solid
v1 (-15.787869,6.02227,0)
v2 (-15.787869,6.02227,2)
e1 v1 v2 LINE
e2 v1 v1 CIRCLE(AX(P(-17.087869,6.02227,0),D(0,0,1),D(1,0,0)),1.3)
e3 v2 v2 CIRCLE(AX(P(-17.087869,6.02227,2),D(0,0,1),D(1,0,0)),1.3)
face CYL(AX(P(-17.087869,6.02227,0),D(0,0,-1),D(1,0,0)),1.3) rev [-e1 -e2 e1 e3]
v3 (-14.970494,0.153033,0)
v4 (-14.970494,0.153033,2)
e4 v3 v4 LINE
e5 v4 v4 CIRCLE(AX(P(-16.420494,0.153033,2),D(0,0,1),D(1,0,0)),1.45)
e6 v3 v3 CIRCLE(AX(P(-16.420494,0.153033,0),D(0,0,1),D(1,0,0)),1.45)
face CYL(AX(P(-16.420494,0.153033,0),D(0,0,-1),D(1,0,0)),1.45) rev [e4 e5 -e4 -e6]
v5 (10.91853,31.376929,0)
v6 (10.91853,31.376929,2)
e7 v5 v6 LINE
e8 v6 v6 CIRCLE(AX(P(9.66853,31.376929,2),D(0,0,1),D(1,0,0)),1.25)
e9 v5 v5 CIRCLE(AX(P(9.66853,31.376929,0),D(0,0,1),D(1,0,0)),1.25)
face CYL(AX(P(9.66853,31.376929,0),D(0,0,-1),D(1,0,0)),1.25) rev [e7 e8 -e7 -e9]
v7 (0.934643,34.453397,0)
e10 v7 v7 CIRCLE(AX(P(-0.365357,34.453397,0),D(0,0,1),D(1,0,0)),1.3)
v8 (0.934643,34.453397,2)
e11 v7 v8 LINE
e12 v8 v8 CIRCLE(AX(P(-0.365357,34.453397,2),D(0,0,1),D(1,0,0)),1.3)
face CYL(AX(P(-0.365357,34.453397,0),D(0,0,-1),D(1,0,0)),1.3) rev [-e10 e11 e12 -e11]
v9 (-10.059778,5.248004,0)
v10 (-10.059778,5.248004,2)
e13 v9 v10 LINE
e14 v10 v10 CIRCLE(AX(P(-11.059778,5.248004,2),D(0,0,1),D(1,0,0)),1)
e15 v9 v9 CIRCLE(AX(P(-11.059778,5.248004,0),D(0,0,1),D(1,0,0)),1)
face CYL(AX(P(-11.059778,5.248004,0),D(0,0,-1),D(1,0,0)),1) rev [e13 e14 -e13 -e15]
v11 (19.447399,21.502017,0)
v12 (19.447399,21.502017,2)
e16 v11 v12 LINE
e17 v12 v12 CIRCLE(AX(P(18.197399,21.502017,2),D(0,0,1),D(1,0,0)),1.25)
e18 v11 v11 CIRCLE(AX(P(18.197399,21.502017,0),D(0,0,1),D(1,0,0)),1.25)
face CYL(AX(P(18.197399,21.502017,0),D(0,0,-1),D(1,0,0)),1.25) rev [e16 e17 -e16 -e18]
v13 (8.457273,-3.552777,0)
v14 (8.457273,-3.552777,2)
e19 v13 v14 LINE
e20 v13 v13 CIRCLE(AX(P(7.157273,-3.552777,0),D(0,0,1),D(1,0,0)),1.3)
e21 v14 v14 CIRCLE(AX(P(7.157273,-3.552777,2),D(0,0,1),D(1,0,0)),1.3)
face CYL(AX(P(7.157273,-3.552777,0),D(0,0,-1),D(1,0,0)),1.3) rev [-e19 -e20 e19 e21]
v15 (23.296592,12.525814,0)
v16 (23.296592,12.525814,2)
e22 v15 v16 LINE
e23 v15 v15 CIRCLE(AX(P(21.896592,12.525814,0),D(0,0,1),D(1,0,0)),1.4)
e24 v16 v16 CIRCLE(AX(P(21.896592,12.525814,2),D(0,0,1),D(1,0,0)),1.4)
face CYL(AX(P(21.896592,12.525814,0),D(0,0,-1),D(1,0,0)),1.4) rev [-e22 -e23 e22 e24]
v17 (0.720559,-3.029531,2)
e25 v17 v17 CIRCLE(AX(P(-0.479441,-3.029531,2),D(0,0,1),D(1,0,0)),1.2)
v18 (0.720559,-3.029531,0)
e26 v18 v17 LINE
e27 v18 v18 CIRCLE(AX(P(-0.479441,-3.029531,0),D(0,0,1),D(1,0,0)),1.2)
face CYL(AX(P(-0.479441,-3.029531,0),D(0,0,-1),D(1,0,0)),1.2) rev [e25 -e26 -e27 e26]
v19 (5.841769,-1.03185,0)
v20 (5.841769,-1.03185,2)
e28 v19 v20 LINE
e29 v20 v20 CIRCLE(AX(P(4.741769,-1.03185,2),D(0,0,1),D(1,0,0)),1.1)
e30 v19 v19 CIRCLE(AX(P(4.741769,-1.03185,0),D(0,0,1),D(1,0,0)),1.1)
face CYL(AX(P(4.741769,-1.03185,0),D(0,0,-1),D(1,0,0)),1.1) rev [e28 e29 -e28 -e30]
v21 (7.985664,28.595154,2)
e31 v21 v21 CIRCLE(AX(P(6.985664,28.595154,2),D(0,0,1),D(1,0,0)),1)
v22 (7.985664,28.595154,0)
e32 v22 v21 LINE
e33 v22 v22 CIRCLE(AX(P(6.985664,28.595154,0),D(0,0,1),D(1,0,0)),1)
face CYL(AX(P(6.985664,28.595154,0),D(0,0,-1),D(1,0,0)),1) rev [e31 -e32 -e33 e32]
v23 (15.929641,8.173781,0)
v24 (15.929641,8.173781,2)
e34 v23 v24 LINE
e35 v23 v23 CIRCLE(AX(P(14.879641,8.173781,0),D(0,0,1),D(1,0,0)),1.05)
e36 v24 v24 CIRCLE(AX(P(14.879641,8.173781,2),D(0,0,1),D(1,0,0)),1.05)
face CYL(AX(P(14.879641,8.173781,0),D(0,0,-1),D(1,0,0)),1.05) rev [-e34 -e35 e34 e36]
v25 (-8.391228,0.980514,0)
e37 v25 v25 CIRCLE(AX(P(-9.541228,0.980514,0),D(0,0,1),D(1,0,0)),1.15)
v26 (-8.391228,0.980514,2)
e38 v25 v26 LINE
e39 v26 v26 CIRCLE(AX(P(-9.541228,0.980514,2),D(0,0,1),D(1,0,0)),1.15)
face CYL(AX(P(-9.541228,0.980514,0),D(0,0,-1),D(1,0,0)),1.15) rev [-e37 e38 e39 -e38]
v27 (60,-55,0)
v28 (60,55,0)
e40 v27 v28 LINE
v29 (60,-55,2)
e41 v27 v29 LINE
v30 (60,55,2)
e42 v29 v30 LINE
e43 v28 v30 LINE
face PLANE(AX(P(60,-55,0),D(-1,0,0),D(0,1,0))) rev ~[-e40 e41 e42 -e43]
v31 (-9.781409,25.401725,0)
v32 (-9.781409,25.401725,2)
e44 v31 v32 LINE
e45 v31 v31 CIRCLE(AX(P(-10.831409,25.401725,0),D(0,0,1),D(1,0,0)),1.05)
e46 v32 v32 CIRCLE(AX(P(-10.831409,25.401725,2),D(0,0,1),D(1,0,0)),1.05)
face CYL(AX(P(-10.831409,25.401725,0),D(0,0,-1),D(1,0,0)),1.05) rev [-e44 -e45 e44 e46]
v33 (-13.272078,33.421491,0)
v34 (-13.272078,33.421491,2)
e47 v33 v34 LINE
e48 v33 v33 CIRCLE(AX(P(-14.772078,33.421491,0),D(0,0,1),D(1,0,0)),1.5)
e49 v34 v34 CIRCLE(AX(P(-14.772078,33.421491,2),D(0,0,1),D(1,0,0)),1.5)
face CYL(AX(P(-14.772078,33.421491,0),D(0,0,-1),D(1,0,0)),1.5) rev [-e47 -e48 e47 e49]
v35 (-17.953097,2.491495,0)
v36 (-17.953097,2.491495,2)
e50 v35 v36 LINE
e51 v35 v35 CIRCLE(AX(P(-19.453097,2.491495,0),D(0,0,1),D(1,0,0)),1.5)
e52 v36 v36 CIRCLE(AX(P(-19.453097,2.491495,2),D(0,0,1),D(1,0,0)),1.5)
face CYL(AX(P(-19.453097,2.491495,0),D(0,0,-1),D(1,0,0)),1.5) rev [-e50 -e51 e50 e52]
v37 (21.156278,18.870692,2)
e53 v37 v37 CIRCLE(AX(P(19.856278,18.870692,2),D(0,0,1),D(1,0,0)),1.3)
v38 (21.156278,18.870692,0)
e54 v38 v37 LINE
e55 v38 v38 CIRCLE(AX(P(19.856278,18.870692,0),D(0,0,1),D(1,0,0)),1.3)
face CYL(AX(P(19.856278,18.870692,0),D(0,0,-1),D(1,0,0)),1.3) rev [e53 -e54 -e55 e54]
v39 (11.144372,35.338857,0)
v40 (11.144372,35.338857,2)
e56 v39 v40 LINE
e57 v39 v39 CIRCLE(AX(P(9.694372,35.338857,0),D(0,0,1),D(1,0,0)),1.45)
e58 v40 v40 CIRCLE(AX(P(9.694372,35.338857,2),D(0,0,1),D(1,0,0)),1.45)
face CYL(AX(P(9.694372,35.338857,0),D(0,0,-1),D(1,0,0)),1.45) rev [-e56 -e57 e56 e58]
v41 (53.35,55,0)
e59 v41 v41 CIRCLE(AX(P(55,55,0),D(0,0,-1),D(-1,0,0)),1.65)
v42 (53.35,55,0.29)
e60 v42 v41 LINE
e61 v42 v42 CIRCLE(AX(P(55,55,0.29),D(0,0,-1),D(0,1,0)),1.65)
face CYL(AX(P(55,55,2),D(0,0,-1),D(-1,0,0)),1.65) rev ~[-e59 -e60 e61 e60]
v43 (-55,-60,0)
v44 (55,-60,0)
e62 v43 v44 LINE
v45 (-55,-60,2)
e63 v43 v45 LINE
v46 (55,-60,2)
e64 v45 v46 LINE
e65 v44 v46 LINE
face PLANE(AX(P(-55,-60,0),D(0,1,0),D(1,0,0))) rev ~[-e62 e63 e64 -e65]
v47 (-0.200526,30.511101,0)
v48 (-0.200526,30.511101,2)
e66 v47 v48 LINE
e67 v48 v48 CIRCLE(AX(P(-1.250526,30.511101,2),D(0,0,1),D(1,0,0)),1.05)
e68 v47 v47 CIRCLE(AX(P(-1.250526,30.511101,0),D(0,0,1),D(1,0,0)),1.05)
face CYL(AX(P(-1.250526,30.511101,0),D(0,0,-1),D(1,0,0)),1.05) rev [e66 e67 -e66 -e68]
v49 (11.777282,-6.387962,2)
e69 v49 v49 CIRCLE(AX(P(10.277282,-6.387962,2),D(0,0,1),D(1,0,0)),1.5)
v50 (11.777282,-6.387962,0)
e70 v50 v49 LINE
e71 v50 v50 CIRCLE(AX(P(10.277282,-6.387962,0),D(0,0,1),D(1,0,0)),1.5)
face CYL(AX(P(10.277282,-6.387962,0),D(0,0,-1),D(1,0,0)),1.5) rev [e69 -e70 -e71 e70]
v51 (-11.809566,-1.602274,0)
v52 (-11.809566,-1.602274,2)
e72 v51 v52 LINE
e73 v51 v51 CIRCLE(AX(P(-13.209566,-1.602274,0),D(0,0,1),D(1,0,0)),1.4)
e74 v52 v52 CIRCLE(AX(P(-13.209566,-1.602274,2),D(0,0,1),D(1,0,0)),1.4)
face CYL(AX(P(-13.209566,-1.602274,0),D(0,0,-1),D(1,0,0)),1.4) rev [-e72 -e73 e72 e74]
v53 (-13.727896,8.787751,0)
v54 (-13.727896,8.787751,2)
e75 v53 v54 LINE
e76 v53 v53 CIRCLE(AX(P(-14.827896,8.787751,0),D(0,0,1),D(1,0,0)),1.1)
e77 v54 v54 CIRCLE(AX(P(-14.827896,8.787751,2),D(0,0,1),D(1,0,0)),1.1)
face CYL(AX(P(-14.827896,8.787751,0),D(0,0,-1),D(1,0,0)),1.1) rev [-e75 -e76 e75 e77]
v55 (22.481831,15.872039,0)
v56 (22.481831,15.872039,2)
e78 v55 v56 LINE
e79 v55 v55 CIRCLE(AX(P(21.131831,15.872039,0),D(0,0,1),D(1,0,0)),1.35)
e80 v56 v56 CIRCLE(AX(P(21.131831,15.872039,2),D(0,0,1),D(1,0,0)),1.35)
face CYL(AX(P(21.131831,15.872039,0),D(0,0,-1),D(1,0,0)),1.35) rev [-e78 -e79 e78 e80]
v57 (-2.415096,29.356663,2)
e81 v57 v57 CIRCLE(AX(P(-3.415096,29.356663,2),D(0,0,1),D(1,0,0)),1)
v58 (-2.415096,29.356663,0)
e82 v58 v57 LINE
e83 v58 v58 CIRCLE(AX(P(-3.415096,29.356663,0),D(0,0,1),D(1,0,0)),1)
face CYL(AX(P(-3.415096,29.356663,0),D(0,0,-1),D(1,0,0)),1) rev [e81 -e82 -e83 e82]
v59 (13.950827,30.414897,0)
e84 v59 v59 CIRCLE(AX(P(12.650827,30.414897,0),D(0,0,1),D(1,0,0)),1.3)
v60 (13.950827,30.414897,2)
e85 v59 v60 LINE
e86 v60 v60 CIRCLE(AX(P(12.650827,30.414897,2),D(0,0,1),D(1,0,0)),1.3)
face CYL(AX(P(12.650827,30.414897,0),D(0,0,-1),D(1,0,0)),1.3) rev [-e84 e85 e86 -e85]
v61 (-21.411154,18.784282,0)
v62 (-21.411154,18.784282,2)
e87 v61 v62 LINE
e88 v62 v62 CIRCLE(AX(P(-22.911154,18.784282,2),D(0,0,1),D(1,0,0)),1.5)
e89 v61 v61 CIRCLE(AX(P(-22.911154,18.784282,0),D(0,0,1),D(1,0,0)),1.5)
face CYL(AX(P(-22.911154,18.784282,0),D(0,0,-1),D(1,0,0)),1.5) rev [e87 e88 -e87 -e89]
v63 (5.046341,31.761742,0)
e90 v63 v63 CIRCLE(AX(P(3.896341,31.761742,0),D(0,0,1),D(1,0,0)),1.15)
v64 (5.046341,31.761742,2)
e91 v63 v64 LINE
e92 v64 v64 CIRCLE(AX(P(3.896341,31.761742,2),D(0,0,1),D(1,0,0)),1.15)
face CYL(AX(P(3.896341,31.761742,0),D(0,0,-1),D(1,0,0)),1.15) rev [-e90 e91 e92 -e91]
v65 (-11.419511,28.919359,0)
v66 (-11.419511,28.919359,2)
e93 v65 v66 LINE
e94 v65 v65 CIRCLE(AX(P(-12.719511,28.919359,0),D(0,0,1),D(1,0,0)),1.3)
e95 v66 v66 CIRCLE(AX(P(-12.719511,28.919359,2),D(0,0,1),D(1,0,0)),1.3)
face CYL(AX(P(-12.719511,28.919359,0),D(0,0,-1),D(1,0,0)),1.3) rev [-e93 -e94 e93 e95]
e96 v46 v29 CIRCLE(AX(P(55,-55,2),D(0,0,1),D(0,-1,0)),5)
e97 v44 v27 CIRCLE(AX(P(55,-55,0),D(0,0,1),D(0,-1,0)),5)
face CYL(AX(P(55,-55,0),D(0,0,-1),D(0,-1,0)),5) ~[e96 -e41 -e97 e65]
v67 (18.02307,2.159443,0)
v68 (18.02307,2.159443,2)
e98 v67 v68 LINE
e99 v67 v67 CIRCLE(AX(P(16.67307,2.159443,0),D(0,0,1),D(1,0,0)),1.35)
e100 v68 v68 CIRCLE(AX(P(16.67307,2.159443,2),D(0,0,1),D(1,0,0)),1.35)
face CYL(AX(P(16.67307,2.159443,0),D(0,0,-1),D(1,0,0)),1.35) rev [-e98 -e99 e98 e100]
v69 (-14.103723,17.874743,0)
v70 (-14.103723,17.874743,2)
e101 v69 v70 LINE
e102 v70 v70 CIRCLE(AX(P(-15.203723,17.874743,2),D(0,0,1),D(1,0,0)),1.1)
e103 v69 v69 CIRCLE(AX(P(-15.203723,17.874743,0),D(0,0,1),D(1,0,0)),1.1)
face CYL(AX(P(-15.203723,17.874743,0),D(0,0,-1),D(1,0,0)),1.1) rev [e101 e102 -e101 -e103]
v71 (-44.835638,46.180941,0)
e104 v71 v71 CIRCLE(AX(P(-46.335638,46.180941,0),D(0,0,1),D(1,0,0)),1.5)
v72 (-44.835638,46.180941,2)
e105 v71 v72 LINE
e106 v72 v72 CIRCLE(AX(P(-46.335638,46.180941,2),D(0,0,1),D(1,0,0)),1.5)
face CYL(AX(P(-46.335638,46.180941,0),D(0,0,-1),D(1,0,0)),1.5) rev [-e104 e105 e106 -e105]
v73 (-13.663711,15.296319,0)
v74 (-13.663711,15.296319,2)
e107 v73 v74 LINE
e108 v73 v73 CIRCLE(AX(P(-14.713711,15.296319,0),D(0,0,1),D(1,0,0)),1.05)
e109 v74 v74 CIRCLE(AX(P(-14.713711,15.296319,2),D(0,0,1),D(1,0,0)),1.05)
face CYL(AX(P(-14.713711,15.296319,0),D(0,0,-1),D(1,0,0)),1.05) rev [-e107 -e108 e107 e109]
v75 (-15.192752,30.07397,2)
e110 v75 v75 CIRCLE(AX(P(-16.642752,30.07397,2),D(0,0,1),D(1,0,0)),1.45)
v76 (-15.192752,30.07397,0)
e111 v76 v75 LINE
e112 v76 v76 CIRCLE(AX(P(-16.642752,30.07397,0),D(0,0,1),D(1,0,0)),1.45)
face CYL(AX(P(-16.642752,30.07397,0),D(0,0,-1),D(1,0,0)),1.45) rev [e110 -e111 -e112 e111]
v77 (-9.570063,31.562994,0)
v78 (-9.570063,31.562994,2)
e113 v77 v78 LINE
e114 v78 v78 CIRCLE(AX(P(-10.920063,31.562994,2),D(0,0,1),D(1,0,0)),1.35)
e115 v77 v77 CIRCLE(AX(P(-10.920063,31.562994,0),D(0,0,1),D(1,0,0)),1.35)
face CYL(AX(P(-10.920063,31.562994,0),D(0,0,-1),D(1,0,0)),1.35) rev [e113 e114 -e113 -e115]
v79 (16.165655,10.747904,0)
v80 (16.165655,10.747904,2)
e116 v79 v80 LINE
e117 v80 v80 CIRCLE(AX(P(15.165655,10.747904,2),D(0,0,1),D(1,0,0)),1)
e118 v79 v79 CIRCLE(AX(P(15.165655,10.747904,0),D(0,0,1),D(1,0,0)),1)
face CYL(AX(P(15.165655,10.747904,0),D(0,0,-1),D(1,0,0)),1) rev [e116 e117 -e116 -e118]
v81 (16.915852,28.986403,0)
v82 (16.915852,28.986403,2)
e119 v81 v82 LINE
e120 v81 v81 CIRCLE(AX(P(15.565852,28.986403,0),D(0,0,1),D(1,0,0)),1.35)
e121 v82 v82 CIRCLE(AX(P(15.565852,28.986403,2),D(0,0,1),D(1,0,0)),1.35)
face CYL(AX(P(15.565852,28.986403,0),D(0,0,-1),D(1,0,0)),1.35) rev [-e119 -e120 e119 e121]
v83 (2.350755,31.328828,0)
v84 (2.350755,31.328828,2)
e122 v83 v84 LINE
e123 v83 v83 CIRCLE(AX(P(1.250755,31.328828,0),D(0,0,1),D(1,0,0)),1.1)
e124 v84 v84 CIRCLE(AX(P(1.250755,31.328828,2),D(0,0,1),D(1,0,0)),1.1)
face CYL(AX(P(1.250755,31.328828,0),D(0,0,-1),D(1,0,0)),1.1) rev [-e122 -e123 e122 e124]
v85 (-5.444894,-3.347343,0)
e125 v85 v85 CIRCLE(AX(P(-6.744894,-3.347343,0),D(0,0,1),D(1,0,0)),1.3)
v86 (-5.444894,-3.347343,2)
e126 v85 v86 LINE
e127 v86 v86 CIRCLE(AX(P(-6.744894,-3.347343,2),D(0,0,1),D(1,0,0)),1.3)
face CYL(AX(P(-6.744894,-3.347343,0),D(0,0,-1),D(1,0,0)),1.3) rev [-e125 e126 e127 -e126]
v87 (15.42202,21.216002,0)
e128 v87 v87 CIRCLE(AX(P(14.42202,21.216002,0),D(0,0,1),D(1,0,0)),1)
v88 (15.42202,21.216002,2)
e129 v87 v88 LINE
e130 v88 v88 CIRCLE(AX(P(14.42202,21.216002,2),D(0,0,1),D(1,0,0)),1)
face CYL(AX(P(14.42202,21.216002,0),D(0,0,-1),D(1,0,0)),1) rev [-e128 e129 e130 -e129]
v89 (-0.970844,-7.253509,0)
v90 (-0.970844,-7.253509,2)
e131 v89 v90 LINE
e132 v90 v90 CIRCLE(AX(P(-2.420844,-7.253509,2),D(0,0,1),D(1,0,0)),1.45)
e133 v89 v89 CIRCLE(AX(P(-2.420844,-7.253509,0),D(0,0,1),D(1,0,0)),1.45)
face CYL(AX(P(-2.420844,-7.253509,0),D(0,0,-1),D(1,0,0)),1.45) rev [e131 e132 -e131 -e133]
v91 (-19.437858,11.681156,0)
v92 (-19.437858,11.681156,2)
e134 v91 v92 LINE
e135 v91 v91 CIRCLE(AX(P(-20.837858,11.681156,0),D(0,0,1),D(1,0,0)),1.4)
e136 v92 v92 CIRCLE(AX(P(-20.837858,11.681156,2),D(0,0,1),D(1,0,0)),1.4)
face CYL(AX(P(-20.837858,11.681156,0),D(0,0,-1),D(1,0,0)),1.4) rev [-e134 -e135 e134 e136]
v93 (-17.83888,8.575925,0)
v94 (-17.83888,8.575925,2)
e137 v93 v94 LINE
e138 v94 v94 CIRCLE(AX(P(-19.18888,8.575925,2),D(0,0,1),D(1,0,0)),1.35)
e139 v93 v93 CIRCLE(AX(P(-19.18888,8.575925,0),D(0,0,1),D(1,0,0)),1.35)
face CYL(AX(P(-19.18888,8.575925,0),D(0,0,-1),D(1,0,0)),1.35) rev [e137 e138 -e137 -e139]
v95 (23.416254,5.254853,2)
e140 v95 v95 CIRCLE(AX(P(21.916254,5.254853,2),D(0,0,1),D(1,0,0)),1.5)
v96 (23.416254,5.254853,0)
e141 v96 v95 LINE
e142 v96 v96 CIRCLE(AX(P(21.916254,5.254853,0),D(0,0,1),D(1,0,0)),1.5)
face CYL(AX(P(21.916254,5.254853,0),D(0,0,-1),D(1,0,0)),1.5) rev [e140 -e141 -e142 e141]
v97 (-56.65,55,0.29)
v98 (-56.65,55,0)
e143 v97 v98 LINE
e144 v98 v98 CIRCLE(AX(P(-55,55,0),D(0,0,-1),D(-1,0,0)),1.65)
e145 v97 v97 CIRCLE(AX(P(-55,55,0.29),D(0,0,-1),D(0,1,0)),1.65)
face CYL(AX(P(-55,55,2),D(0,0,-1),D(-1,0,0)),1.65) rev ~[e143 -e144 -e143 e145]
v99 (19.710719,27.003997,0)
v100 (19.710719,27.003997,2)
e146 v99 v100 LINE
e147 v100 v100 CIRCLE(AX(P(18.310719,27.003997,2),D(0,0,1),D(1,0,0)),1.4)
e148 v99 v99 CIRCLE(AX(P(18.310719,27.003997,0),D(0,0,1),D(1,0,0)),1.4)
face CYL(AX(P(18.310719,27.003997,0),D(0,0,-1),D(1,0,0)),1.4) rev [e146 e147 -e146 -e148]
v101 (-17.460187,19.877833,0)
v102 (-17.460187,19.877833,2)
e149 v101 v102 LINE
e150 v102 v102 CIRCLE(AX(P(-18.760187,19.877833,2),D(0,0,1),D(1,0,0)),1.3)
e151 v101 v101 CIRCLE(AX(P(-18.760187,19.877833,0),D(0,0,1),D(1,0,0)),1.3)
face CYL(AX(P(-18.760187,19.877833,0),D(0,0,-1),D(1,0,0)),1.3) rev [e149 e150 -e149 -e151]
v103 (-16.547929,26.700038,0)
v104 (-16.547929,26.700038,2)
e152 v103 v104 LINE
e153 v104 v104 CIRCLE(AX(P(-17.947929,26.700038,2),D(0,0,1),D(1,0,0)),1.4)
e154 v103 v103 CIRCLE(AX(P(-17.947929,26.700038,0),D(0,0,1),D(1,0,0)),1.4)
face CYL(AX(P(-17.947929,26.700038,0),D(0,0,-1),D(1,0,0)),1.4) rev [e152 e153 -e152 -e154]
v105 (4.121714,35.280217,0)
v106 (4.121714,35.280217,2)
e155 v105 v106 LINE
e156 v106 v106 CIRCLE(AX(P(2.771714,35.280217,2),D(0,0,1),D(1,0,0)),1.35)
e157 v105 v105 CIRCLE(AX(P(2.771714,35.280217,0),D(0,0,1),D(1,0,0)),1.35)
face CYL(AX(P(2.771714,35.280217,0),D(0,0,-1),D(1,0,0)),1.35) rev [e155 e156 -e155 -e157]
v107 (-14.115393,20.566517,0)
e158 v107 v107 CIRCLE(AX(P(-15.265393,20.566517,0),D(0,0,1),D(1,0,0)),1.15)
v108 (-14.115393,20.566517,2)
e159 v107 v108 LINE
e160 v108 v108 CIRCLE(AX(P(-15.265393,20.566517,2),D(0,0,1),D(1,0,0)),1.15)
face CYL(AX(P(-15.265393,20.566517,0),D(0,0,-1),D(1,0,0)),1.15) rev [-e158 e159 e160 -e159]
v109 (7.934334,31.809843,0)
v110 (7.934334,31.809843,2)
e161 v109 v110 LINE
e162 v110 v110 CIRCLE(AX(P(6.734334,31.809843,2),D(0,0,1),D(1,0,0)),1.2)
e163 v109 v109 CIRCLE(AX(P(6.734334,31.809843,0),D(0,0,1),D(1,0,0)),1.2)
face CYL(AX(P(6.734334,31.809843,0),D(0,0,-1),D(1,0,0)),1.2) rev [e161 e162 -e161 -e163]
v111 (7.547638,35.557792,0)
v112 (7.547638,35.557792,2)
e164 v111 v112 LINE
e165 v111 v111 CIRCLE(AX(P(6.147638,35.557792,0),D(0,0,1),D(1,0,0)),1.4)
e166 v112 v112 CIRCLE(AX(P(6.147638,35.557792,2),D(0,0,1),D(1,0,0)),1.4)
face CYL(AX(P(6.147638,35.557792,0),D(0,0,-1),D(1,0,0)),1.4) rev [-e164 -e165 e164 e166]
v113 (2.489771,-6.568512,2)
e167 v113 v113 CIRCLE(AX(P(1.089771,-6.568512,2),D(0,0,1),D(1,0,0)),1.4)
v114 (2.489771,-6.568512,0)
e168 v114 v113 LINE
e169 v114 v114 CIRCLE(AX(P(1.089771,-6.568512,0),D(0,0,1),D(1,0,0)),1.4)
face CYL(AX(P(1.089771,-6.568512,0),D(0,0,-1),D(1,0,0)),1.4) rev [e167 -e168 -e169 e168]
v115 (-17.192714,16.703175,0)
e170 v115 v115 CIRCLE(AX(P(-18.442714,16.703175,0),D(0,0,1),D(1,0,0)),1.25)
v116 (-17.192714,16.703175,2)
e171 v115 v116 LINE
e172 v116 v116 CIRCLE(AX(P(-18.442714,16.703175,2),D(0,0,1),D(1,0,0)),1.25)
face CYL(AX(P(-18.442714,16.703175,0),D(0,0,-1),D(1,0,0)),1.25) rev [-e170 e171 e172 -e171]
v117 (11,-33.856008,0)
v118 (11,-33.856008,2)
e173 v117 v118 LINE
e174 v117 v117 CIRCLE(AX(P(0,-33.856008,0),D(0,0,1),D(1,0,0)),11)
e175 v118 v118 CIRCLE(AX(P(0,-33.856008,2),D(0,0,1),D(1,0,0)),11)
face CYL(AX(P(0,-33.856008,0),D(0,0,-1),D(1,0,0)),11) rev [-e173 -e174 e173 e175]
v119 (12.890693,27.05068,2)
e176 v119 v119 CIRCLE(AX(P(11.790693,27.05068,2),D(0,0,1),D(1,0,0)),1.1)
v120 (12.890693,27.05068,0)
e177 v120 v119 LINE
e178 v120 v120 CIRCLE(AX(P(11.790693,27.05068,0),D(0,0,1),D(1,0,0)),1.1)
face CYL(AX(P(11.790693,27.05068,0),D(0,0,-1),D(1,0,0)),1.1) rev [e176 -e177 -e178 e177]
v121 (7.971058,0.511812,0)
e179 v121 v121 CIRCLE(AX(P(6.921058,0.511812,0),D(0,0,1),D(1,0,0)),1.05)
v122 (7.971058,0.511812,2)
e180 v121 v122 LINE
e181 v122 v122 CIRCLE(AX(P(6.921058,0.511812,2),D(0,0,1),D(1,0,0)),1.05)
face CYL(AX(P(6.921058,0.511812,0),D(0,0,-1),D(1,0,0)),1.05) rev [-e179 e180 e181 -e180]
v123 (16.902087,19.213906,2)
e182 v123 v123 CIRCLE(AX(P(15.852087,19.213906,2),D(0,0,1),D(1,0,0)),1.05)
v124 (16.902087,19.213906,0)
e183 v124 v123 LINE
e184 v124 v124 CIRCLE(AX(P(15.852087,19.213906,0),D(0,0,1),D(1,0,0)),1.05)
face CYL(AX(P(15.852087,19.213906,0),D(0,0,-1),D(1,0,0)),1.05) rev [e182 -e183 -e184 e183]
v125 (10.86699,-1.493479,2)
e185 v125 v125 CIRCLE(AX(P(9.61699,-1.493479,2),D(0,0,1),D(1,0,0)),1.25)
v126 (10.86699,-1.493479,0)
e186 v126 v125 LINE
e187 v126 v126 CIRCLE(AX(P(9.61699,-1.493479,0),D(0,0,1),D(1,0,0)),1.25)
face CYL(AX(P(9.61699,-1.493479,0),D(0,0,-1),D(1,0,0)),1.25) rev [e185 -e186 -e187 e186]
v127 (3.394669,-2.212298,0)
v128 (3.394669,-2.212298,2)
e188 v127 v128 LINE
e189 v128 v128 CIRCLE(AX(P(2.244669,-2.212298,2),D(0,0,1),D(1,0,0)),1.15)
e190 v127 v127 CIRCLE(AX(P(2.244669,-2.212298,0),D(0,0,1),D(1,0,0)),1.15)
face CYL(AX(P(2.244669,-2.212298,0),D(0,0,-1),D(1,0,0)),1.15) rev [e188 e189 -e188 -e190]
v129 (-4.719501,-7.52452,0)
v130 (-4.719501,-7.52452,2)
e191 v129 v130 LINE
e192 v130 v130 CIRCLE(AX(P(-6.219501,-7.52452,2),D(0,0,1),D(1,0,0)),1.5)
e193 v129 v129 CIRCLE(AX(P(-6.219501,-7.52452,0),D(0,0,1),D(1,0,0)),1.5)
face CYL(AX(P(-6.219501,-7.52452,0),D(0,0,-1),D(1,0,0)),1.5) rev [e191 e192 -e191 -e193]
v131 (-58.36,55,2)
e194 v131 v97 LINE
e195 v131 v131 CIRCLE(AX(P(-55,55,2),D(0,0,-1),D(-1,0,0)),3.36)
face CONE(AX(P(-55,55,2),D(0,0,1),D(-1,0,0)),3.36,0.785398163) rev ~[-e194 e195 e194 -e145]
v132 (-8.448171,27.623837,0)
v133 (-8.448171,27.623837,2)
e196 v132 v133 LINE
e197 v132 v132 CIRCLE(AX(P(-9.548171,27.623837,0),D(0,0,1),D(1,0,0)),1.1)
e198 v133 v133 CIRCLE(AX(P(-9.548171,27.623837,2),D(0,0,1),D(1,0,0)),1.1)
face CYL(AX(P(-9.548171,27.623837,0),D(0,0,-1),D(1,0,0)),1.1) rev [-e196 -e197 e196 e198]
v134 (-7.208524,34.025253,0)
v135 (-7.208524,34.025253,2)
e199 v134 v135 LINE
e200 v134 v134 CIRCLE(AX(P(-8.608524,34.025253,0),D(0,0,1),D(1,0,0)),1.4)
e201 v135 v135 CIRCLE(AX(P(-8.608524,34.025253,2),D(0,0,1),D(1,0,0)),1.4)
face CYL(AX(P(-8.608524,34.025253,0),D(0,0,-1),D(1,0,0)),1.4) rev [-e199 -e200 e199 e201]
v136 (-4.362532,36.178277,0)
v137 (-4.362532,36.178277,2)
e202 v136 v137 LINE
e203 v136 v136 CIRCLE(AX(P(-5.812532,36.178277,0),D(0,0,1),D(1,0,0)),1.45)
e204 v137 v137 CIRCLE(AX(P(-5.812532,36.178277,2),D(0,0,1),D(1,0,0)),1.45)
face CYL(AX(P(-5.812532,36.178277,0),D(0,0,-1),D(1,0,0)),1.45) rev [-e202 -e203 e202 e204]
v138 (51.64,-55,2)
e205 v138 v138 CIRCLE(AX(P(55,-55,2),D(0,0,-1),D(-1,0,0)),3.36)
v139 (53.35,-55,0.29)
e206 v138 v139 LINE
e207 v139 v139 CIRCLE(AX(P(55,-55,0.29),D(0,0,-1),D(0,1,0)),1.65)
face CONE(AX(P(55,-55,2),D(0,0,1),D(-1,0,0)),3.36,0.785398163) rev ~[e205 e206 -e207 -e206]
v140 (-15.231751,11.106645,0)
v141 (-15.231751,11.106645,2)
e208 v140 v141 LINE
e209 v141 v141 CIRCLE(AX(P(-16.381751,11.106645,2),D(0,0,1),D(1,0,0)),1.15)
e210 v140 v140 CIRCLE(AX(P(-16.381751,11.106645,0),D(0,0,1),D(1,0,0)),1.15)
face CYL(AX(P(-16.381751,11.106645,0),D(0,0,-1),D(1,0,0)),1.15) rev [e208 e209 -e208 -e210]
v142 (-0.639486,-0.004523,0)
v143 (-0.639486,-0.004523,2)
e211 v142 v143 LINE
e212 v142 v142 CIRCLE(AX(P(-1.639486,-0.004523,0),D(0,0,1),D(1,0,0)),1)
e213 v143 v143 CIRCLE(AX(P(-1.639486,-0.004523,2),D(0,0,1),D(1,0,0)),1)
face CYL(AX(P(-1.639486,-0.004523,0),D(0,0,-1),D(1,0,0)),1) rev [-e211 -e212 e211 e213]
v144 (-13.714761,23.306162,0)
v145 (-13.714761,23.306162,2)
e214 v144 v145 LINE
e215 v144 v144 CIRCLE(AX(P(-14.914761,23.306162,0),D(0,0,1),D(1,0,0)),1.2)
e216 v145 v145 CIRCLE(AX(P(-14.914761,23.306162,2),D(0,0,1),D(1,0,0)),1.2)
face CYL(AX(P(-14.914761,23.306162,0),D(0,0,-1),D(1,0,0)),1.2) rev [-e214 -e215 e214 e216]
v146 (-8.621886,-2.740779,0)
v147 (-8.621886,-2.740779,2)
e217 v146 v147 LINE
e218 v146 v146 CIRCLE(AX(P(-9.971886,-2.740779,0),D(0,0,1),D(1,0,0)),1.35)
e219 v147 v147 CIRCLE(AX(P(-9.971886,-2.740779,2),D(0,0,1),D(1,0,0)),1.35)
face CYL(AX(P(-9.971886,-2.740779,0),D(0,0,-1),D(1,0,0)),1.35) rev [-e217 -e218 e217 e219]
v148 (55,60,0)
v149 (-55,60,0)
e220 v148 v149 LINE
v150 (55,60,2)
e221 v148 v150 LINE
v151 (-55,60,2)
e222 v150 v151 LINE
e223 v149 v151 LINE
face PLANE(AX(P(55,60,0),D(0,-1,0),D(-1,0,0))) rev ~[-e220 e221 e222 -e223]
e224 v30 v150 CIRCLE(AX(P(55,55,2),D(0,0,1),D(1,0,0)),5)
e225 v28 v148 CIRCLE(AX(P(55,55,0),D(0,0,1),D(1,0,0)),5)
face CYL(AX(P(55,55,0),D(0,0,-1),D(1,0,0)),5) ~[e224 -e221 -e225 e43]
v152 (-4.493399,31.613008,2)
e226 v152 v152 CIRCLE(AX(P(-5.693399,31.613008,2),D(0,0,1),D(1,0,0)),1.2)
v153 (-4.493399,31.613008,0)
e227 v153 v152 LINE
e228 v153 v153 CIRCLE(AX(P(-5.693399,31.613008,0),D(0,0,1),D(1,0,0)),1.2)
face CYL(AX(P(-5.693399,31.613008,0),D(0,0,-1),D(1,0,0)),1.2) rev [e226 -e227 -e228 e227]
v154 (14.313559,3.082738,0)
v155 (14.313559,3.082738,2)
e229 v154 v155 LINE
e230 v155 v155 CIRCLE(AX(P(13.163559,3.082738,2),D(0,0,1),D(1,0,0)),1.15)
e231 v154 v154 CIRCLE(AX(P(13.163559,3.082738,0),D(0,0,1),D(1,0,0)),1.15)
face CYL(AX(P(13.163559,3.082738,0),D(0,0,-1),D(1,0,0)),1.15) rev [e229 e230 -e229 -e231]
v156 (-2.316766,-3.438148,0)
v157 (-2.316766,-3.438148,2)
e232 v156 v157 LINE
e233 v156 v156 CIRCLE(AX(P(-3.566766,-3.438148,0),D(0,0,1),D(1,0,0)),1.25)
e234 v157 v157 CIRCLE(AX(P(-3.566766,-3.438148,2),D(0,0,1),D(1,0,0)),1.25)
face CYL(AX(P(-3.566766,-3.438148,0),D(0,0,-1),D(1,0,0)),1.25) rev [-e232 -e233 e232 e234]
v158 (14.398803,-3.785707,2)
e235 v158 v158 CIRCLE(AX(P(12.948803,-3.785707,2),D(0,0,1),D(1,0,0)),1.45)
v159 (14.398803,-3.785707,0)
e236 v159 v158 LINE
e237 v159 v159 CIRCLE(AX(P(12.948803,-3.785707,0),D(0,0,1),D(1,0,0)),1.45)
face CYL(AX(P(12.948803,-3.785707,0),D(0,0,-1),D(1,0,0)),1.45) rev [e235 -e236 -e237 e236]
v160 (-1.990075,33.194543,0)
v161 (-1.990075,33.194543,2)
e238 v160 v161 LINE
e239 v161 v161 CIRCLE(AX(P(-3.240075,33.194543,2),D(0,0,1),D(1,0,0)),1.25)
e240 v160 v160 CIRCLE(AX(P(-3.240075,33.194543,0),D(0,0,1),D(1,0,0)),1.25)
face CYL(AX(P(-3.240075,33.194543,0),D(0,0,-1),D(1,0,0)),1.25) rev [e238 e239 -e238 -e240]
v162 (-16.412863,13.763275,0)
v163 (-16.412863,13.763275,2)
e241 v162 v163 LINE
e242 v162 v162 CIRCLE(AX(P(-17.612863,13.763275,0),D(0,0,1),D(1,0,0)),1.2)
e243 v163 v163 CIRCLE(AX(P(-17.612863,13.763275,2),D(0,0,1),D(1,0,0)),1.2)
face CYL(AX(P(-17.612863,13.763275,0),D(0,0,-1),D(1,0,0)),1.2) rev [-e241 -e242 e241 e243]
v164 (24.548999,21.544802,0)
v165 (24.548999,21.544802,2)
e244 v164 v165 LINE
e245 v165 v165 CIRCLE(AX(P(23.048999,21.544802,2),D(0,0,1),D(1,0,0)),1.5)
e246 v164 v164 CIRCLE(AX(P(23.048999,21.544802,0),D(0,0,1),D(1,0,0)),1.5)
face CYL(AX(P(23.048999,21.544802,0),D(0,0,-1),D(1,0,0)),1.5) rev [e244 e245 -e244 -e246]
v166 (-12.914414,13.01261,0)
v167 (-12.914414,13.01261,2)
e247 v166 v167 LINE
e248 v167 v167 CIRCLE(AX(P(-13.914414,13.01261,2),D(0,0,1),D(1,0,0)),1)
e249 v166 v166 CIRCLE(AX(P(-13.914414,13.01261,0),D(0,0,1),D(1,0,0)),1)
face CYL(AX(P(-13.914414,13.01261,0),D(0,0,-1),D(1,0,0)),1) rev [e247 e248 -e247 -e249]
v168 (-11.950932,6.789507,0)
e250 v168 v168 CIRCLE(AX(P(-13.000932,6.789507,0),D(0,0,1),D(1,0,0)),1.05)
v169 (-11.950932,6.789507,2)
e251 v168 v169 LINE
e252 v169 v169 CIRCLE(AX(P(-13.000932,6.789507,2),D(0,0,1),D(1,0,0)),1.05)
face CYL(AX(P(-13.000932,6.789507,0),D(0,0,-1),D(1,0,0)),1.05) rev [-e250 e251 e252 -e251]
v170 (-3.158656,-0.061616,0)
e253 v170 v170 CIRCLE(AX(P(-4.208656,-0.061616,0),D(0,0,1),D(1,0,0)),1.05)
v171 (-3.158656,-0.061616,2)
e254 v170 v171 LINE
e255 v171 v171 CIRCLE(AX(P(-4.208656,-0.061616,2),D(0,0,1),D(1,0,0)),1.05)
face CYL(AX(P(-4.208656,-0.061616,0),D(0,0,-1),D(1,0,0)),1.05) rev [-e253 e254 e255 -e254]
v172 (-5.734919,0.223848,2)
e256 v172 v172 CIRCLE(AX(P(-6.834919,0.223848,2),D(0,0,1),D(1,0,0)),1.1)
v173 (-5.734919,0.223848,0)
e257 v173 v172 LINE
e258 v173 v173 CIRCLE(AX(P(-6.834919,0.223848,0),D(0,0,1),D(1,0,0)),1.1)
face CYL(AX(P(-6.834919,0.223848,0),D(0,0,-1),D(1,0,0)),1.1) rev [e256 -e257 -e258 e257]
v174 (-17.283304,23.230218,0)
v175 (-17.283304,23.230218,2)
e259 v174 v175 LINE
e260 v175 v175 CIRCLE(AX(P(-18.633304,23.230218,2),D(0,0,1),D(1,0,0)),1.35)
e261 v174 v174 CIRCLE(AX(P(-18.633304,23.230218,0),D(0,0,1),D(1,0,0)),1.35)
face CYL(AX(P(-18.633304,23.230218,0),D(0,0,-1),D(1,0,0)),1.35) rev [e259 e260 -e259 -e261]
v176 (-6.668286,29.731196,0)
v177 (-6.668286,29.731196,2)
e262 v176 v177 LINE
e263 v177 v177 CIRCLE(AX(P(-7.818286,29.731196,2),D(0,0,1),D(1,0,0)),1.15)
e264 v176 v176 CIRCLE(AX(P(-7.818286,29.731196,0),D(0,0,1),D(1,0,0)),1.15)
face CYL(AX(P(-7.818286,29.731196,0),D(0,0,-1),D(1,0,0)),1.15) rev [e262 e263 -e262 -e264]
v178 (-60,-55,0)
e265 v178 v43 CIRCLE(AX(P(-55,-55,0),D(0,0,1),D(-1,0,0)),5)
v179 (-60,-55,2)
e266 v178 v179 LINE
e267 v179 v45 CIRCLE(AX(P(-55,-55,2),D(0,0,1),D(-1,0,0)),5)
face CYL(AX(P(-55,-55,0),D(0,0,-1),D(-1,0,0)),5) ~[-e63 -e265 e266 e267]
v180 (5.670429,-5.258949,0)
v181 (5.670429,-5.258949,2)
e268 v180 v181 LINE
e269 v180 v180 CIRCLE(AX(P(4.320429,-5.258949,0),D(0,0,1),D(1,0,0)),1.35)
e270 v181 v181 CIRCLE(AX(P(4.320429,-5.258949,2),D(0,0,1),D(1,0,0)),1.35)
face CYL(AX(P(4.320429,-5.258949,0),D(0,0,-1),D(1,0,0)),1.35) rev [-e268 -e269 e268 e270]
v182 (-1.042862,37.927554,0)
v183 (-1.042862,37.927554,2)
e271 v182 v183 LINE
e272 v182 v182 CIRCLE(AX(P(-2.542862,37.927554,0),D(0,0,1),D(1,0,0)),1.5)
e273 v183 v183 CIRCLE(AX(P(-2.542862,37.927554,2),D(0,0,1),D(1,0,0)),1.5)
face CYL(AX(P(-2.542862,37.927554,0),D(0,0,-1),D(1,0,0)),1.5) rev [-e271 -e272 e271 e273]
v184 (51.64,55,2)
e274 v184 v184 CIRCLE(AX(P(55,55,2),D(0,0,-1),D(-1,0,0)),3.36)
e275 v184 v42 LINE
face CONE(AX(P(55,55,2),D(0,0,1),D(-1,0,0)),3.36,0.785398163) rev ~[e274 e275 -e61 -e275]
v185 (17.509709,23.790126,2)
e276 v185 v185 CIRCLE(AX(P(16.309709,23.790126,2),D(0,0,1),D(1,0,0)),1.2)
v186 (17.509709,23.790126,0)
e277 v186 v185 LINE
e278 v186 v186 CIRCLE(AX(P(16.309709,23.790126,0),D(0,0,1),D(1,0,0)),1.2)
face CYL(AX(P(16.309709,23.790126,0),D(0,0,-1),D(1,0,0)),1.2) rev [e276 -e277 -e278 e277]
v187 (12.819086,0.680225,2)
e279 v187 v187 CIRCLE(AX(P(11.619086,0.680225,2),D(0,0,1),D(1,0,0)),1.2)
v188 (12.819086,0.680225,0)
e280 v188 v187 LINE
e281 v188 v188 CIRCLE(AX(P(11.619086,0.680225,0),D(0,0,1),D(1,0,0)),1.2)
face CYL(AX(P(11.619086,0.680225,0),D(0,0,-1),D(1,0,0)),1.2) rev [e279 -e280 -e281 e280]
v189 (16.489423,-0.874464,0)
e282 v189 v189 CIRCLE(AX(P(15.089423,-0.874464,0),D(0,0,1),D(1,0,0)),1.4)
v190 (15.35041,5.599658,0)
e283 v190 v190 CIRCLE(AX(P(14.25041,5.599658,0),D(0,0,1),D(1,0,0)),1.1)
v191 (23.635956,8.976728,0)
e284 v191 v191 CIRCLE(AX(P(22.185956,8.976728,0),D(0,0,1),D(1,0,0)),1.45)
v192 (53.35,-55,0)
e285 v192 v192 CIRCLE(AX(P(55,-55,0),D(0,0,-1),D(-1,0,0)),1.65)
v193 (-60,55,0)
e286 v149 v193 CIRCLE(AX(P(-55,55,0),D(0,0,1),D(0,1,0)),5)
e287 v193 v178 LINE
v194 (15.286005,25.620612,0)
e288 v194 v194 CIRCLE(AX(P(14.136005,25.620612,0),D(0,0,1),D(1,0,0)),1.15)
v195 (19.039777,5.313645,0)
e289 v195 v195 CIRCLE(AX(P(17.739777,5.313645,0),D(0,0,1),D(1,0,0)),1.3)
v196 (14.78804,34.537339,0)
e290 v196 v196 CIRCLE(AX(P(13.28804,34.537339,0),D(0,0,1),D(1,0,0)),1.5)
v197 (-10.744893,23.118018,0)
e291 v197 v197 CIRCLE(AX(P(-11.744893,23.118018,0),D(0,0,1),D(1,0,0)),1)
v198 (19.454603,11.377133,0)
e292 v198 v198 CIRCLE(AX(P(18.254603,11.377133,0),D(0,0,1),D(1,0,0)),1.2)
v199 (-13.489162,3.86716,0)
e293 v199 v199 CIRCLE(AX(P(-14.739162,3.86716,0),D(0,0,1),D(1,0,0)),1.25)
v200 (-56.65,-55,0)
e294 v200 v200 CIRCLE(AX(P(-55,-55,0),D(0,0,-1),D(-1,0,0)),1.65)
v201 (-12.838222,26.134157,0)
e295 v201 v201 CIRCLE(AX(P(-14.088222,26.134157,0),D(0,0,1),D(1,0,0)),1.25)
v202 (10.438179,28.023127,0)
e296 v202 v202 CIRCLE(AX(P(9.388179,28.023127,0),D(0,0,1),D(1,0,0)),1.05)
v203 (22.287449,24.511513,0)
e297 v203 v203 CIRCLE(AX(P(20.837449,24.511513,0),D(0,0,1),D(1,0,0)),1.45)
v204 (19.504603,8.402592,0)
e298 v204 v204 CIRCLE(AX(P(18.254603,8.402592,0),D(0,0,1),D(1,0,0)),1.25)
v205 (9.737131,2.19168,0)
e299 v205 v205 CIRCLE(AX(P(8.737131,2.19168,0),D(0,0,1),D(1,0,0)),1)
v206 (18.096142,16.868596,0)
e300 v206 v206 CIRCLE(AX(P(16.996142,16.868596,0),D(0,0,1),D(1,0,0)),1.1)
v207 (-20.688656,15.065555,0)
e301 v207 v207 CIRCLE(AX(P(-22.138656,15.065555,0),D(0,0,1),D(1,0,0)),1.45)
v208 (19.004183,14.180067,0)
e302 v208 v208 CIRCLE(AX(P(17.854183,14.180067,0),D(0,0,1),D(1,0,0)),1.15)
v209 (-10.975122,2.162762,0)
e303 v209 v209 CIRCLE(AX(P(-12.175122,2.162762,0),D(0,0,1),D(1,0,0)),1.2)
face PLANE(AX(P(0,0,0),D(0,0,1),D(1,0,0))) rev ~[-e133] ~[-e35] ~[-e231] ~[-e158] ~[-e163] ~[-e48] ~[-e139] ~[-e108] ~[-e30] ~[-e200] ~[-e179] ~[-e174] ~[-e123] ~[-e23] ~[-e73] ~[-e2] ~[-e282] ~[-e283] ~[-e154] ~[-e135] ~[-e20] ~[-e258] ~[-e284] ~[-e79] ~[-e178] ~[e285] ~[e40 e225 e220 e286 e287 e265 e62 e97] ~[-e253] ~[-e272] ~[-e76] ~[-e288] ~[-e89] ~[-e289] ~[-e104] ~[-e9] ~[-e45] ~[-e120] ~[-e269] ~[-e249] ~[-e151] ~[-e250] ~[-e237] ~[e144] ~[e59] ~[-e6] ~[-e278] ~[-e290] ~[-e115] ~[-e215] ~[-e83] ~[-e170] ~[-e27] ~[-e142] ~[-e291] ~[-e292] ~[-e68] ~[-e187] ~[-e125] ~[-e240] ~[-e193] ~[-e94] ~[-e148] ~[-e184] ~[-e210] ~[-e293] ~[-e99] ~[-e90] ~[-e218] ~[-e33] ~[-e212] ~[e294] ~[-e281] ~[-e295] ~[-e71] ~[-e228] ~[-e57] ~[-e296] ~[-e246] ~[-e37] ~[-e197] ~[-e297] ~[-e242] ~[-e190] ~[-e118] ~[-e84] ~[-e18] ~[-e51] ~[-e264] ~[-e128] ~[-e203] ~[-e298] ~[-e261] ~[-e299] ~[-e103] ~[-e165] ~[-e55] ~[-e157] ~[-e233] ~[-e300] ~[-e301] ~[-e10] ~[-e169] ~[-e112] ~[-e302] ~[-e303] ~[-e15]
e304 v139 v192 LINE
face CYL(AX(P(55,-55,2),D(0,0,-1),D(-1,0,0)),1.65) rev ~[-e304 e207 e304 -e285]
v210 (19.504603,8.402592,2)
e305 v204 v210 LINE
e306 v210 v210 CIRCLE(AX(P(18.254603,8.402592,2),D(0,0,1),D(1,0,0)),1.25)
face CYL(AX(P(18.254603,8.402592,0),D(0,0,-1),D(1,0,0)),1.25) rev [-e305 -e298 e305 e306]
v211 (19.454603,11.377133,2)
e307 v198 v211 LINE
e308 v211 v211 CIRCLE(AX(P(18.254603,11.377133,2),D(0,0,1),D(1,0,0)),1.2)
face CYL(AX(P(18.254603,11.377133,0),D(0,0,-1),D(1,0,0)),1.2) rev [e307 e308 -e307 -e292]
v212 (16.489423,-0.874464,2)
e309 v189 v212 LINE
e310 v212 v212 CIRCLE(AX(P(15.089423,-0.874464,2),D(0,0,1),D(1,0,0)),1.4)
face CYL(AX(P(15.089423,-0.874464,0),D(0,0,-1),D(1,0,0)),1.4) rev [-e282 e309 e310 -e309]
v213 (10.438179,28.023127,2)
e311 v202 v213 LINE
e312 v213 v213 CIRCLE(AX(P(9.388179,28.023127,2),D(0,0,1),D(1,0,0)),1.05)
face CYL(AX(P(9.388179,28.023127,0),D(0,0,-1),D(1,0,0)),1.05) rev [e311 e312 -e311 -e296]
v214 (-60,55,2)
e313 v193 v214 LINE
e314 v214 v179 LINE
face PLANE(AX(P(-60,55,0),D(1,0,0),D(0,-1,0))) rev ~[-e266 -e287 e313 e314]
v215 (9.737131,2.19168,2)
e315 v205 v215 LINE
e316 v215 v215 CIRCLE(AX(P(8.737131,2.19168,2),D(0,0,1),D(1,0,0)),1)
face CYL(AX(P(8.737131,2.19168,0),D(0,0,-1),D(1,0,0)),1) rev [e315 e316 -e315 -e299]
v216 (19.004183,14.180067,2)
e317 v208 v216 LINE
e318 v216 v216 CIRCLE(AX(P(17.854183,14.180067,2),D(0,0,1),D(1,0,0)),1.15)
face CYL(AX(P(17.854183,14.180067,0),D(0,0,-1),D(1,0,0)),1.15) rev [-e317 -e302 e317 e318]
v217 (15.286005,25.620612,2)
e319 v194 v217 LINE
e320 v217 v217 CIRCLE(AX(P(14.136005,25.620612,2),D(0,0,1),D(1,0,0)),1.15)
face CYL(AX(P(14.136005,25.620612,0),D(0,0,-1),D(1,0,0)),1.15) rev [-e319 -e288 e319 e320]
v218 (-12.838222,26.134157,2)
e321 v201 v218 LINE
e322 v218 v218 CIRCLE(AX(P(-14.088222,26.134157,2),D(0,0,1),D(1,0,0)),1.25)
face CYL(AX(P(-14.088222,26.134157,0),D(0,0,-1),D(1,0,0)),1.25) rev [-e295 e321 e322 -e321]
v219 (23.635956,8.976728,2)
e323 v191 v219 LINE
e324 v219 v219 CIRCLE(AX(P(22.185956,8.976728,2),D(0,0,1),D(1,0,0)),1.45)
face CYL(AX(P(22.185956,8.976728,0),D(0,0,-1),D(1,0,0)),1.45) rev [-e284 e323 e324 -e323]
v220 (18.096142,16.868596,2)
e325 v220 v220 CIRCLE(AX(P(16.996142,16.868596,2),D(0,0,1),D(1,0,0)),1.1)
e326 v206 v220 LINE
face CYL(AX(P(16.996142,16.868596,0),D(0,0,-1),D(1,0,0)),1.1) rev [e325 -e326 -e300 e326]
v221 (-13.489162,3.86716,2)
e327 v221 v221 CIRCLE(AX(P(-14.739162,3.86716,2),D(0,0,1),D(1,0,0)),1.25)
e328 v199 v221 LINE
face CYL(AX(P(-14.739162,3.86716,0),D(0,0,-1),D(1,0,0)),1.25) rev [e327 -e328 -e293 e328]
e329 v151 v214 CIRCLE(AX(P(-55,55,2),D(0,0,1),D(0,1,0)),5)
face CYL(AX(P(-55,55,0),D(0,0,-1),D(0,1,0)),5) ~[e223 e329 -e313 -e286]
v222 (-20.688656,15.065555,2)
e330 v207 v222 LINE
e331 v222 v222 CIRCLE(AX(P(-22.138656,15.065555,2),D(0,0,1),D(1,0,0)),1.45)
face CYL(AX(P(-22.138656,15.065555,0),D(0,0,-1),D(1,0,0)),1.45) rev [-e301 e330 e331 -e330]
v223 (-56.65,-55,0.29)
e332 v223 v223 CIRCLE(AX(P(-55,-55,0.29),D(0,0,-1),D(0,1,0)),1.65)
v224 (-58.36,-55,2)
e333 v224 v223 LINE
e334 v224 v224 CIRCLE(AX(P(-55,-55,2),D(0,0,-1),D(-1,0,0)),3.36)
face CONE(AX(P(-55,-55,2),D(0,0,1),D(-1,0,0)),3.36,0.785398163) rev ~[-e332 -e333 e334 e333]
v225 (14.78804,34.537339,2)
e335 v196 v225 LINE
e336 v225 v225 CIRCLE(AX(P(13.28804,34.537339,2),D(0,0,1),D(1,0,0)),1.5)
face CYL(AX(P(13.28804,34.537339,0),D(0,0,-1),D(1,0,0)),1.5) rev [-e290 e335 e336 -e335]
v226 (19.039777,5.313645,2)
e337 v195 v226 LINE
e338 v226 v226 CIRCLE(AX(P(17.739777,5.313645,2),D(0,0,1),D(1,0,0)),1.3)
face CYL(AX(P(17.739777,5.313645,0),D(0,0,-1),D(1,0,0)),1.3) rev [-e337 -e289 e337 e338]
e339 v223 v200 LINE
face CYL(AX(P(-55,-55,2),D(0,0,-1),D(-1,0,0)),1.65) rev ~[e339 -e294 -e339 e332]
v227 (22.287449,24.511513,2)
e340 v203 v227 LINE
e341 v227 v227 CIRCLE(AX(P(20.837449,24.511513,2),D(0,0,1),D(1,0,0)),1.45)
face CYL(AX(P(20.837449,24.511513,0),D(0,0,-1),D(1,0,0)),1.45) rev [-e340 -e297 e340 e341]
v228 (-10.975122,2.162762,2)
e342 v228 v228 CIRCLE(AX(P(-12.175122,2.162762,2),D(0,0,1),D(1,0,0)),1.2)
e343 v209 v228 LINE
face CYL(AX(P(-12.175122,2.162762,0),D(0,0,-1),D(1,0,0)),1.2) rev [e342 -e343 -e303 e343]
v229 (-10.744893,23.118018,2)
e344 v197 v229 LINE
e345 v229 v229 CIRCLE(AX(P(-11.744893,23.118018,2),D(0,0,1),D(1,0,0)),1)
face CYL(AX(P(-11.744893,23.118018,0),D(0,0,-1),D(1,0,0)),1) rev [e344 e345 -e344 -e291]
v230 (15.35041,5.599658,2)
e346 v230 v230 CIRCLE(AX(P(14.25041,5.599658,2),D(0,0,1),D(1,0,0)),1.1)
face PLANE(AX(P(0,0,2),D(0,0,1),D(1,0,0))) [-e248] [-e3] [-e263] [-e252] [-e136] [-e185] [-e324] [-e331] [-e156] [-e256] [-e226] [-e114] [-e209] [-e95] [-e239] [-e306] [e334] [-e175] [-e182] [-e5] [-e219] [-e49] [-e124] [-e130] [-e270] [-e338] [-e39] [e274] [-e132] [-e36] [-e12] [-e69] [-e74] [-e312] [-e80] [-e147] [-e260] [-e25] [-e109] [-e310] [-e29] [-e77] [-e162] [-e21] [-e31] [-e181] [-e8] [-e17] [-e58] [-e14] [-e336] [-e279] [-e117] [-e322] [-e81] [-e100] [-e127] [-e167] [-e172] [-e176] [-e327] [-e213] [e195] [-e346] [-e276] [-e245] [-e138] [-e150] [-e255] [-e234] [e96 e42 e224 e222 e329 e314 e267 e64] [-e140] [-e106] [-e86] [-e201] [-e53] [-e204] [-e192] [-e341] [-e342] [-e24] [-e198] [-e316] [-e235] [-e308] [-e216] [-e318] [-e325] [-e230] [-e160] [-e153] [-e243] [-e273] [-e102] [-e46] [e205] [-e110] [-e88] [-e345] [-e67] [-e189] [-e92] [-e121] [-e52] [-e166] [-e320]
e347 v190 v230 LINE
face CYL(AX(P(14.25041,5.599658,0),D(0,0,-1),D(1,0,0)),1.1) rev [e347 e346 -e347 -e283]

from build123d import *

# Parameters (mm, degrees)
F0_R           = 1.5
F0_R_2         = 1.4
F0_R_3         = 1.35
F0_R_4         = 1.45
F0_R_5         = 1.3
F0_R_6         = 1.05
F0_R_7         = 1.25
F0_R_8         = 1.2
F0_R_9         = 1
F0_R_10        = 11
F0_R_11        = 1.15
F0_R_12        = 1.1
F1_DEPTH       = 2
F3_D           = 3.3
F3_CSINK_D     = 6.72
F3_CSINK_ANGLE = 90


with BuildPart() as f1:
    # F0 (on Top) → F1 (new body)
    with BuildSketch(Plane.XY):
        with BuildLine():
            Line((-55, -60), (55, -60))
            ThreePointArc((55, -60), (58.5355339059, -58.5355339059), (60, -55))
            Line((60, -55), (60, 55))
            ThreePointArc((60, 55), (58.5355339059, 58.5355339059), (55, 60))
            Line((55, 60), (-55, 60))
            ThreePointArc((-55, 60), (-58.5355339059, 58.5355339059), (-60, 55))
            Line((-60, 55), (-60, -55))
            ThreePointArc((-60, -55), (-58.5355339059, -58.5355339059), (-55, -60))
        make_face()
        with Locations((-6.2195005757, -7.5245201893)):
            Circle(F0_R, mode=Mode.SUBTRACT)
        with Locations((-13.2095659082, -1.6022741634)):
            Circle(F0_R_2, mode=Mode.SUBTRACT)
        with Locations((-9.9718863075, -2.7407789908)):
            Circle(F0_R_3, mode=Mode.SUBTRACT)
        with Locations((-2.4208439444, -7.2535090453)):
            Circle(F0_R_4, mode=Mode.SUBTRACT)
        with Locations((-6.744894099, -3.34734333)):
            Circle(F0_R_5, mode=Mode.SUBTRACT)
        with Locations((-4.2086559278, -0.0616157499)):
            Circle(F0_R_6, mode=Mode.SUBTRACT)
        with Locations((-3.5667660577, -3.4381477467)):
            Circle(F0_R_7, mode=Mode.SUBTRACT)
        with Locations((-0.4794412689, -3.0295308984)):
            Circle(F0_R_8, mode=Mode.SUBTRACT)
        with Locations((-1.6394864233, -0.0045228822)):
            Circle(F0_R_9, mode=Mode.SUBTRACT)
        with Locations((0, -33.8560082018)):
            Circle(F0_R_10, mode=Mode.SUBTRACT)
        with Locations((1.0897714947, -6.5685119785)):
            Circle(F0_R_2, mode=Mode.SUBTRACT)
        with Locations((4.320428574, -5.2589490383)):
            Circle(F0_R_3, mode=Mode.SUBTRACT)
        with Locations((2.2446686472, -2.2122976675)):
            Circle(F0_R_11, mode=Mode.SUBTRACT)
        with Locations((7.1572727593, -3.5527772575)):
            Circle(F0_R_5, mode=Mode.SUBTRACT)
        with Locations((4.7417693841, -1.0318500295)):
            Circle(F0_R_12, mode=Mode.SUBTRACT)
        with Locations((10.2772820811, -6.3879620589)):
            Circle(F0_R, mode=Mode.SUBTRACT)
        with Locations((12.9488032381, -3.785707087)):
            Circle(F0_R_4, mode=Mode.SUBTRACT)
        with Locations((9.6169902081, -1.4934791557)):
            Circle(F0_R_7, mode=Mode.SUBTRACT)
        with Locations((15.0894230301, -0.8744641978)):
            Circle(F0_R_2, mode=Mode.SUBTRACT)
        with Locations((-19.4530965691, 2.4914951923)):
            Circle(F0_R, mode=Mode.SUBTRACT)
        with Locations((-16.4204941993, 0.1530332652)):
            Circle(F0_R_4, mode=Mode.SUBTRACT)
        with Locations((-17.0878687804, 6.0222702727)):
            Circle(F0_R_5, mode=Mode.SUBTRACT)
        with Locations((-19.1888803547, 8.5759251074)):
            Circle(F0_R_3, mode=Mode.SUBTRACT)
        with Locations((-16.3817511802, 11.1066447266)):
            Circle(F0_R_11, mode=Mode.SUBTRACT)
        with Locations((-20.8378577535, 11.6811562025)):
            Circle(F0_R_2, mode=Mode.SUBTRACT)
        with Locations((-17.6128627663, 13.7632745013)):
            Circle(F0_R_8, mode=Mode.SUBTRACT)
        with Locations((-12.1751217102, 2.1627622468)):
            Circle(F0_R_8, mode=Mode.SUBTRACT)
        with Locations((-9.5412278478, 0.9805144786)):
            Circle(F0_R_11, mode=Mode.SUBTRACT)
        with Locations((-14.7391617229, 3.8671595671)):
            Circle(F0_R_7, mode=Mode.SUBTRACT)
        with Locations((-13.0009319564, 6.7895073139)):
            Circle(F0_R_6, mode=Mode.SUBTRACT)
        with Locations((-11.0597781767, 5.2480040745)):
            Circle(F0_R_9, mode=Mode.SUBTRACT)
        with Locations((-6.8349194643, 0.2238475413)):
            Circle(F0_R_12, mode=Mode.SUBTRACT)
        with Locations((-14.8278962751, 8.7877511673)):
            Circle(F0_R_12, mode=Mode.SUBTRACT)
        with Locations((-13.9144141157, 13.0126103454)):
            Circle(F0_R_9, mode=Mode.SUBTRACT)
        with Locations((-22.9111540993, 18.7842817672)):
            Circle(F0_R, mode=Mode.SUBTRACT)
        with Locations((-22.1386555513, 15.0655554303)):
            Circle(F0_R_4, mode=Mode.SUBTRACT)
        with Locations((-18.4427140211, 16.7031753503)):
            Circle(F0_R_7, mode=Mode.SUBTRACT)
        with Locations((-15.2037231182, 17.8747428276)):
            Circle(F0_R_12, mode=Mode.SUBTRACT)
        with Locations((-18.7601869856, 19.8778332838)):
            Circle(F0_R_5, mode=Mode.SUBTRACT)
        with Locations((-15.2653934364, 20.5665165254)):
            Circle(F0_R_11, mode=Mode.SUBTRACT)
        with Locations((-18.6333035981, 23.230218298)):
            Circle(F0_R_3, mode=Mode.SUBTRACT)
        with Locations((-17.9479293456, 26.7000375011)):
            Circle(F0_R_2, mode=Mode.SUBTRACT)
        with Locations((-14.7137114709, 15.2963185378)):
            Circle(F0_R_6, mode=Mode.SUBTRACT)
        with Locations((-14.9147607317, 23.3061620661)):
            Circle(F0_R_8, mode=Mode.SUBTRACT)
        with Locations((-11.7448925902, 23.1180181422)):
            Circle(F0_R_9, mode=Mode.SUBTRACT)
        with Locations((-14.0882221912, 26.1341565915)):
            Circle(F0_R_7, mode=Mode.SUBTRACT)
        with Locations((-10.8314094995, 25.4017254033)):
            Circle(F0_R_6, mode=Mode.SUBTRACT)
        with Locations((-12.71951142, 28.9193587073)):
            Circle(F0_R_5, mode=Mode.SUBTRACT)
        with Locations((-9.5481708576, 27.6238368519)):
            Circle(F0_R_12, mode=Mode.SUBTRACT)
        with Locations((-7.8182857414, 29.7311963209)):
            Circle(F0_R_11, mode=Mode.SUBTRACT)
        with Locations((-3.4150964511, 29.3566630848)):
            Circle(F0_R_9, mode=Mode.SUBTRACT)
        with Locations((-46.3356375694, 46.1809411645)):
            Circle(F0_R, mode=Mode.SUBTRACT)
        with Locations((-16.6427524691, 30.0739695944)):
            Circle(F0_R_4, mode=Mode.SUBTRACT)
        with Locations((-14.7720783879, 33.4214912423)):
            Circle(F0_R, mode=Mode.SUBTRACT)
        with Locations((-10.9200630267, 31.5629942038)):
            Circle(F0_R_3, mode=Mode.SUBTRACT)
        with Locations((-8.6085241218, 34.0252527662)):
            Circle(F0_R_2, mode=Mode.SUBTRACT)
        with Locations((-5.6933987816, 31.6130080887)):
            Circle(F0_R_8, mode=Mode.SUBTRACT)
        with Locations((-1.2505264185, 30.511100746)):
            Circle(F0_R_6, mode=Mode.SUBTRACT)
        with Locations((-3.2400753279, 33.194542832)):
            Circle(F0_R_7, mode=Mode.SUBTRACT)
        with Locations((-5.8125317027, 36.1782768436)):
            Circle(F0_R_4, mode=Mode.SUBTRACT)
        with Locations((-0.3653573385, 34.4533966549)):
            Circle(F0_R_5, mode=Mode.SUBTRACT)
        with Locations((-2.5428621029, 37.9275539585)):
            Circle(F0_R, mode=Mode.SUBTRACT)
        with Locations((6.9210576894, 0.5118121321)):
            Circle(F0_R_6, mode=Mode.SUBTRACT)
        with Locations((8.7371306563, 2.1916801038)):
            Circle(F0_R_9, mode=Mode.SUBTRACT)
        with Locations((11.6190860118, 0.680224532)):
            Circle(F0_R_8, mode=Mode.SUBTRACT)
        with Locations((13.1635587732, 3.0827383439)):
            Circle(F0_R_11, mode=Mode.SUBTRACT)
        with Locations((14.2504103551, 5.5996579744)):
            Circle(F0_R_12, mode=Mode.SUBTRACT)
        with Locations((14.8796407575, 8.173780951)):
            Circle(F0_R_6, mode=Mode.SUBTRACT)
        with Locations((16.673070013, 2.1594428385)):
            Circle(F0_R_3, mode=Mode.SUBTRACT)
        with Locations((17.7397770877, 5.3136446208)):
            Circle(F0_R_5, mode=Mode.SUBTRACT)
        with Locations((21.916254058, 5.254852555)):
            Circle(F0_R, mode=Mode.SUBTRACT)
        with Locations((18.2546028937, 8.4025920064)):
            Circle(F0_R_7, mode=Mode.SUBTRACT)
        with Locations((15.1656545768, 10.7479039275)):
            Circle(F0_R_9, mode=Mode.SUBTRACT)
        with Locations((22.1859557624, 8.9767276936)):
            Circle(F0_R_4, mode=Mode.SUBTRACT)
        with Locations((18.2546028937, 11.3771333986)):
            Circle(F0_R_8, mode=Mode.SUBTRACT)
        with Locations((17.8541826154, 14.1800669648)):
            Circle(F0_R_11, mode=Mode.SUBTRACT)
        with Locations((21.8965919758, 12.5258136236)):
            Circle(F0_R_2, mode=Mode.SUBTRACT)
        with Locations((14.422019578, 21.2160022624)):
            Circle(F0_R_9, mode=Mode.SUBTRACT)
        with Locations((6.9856644678, 28.5951541432)):
            Circle(F0_R_9, mode=Mode.SUBTRACT)
        with Locations((14.1360048274, 25.6206122853)):
            Circle(F0_R_11, mode=Mode.SUBTRACT)
        with Locations((9.3881791527, 28.0231265046)):
            Circle(F0_R_6, mode=Mode.SUBTRACT)
        with Locations((11.790693372, 27.0506804504)):
            Circle(F0_R_12, mode=Mode.SUBTRACT)
        with Locations((16.9961420889, 16.8685959347)):
            Circle(F0_R_12, mode=Mode.SUBTRACT)
        with Locations((21.1318308557, 15.8720388704)):
            Circle(F0_R_3, mode=Mode.SUBTRACT)
        with Locations((15.8520868118, 19.2139064588)):
            Circle(F0_R_6, mode=Mode.SUBTRACT)
        with Locations((18.1973991985, 21.502017013)):
            Circle(F0_R_7, mode=Mode.SUBTRACT)
        with Locations((19.856278419, 18.8706917383)):
            Circle(F0_R_5, mode=Mode.SUBTRACT)
        with Locations((23.0489993538, 21.5448019721)):
            Circle(F0_R, mode=Mode.SUBTRACT)
        with Locations((16.3097089226, 23.7901257046)):
            Circle(F0_R_8, mode=Mode.SUBTRACT)
        with Locations((20.8374491031, 24.5115132698)):
            Circle(F0_R_4, mode=Mode.SUBTRACT)
        with Locations((18.3107188041, 27.003996975)):
            Circle(F0_R_2, mode=Mode.SUBTRACT)
        with Locations((15.565852269, 28.9864027568)):
            Circle(F0_R_3, mode=Mode.SUBTRACT)
        with Locations((1.2507550837, 31.3288280435)):
            Circle(F0_R_12, mode=Mode.SUBTRACT)
        with Locations((3.8963412936, 31.7617421665)):
            Circle(F0_R_11, mode=Mode.SUBTRACT)
        with Locations((6.7343335668, 31.8098431148)):
            Circle(F0_R_8, mode=Mode.SUBTRACT)
        with Locations((2.7717143367, 35.2802173861)):
            Circle(F0_R_3, mode=Mode.SUBTRACT)
        with Locations((6.1476380634, 35.5577924915)):
            Circle(F0_R_2, mode=Mode.SUBTRACT)
        with Locations((9.6685295994, 31.3769289919)):
            Circle(F0_R_7, mode=Mode.SUBTRACT)
        with Locations((12.6508265803, 30.4148969867)):
            Circle(F0_R_5, mode=Mode.SUBTRACT)
        with Locations((9.6943719382, 35.3388571807)):
            Circle(F0_R_4, mode=Mode.SUBTRACT)
        with Locations((13.2880402216, 34.5373386212)):
            Circle(F0_R, mode=Mode.SUBTRACT)
    extrude(amount=F1_DEPTH)

    # F3 (through all)
    with Locations(Plane.XY.offset(2)):
        with Locations((-55, 55), (55, 55), (55, -55), (-55, -55)):
            CounterSinkHole(F3_D / 2, F3_CSINK_D / 2, counter_sink_angle=F3_CSINK_ANGLE)


solid = f1.part
